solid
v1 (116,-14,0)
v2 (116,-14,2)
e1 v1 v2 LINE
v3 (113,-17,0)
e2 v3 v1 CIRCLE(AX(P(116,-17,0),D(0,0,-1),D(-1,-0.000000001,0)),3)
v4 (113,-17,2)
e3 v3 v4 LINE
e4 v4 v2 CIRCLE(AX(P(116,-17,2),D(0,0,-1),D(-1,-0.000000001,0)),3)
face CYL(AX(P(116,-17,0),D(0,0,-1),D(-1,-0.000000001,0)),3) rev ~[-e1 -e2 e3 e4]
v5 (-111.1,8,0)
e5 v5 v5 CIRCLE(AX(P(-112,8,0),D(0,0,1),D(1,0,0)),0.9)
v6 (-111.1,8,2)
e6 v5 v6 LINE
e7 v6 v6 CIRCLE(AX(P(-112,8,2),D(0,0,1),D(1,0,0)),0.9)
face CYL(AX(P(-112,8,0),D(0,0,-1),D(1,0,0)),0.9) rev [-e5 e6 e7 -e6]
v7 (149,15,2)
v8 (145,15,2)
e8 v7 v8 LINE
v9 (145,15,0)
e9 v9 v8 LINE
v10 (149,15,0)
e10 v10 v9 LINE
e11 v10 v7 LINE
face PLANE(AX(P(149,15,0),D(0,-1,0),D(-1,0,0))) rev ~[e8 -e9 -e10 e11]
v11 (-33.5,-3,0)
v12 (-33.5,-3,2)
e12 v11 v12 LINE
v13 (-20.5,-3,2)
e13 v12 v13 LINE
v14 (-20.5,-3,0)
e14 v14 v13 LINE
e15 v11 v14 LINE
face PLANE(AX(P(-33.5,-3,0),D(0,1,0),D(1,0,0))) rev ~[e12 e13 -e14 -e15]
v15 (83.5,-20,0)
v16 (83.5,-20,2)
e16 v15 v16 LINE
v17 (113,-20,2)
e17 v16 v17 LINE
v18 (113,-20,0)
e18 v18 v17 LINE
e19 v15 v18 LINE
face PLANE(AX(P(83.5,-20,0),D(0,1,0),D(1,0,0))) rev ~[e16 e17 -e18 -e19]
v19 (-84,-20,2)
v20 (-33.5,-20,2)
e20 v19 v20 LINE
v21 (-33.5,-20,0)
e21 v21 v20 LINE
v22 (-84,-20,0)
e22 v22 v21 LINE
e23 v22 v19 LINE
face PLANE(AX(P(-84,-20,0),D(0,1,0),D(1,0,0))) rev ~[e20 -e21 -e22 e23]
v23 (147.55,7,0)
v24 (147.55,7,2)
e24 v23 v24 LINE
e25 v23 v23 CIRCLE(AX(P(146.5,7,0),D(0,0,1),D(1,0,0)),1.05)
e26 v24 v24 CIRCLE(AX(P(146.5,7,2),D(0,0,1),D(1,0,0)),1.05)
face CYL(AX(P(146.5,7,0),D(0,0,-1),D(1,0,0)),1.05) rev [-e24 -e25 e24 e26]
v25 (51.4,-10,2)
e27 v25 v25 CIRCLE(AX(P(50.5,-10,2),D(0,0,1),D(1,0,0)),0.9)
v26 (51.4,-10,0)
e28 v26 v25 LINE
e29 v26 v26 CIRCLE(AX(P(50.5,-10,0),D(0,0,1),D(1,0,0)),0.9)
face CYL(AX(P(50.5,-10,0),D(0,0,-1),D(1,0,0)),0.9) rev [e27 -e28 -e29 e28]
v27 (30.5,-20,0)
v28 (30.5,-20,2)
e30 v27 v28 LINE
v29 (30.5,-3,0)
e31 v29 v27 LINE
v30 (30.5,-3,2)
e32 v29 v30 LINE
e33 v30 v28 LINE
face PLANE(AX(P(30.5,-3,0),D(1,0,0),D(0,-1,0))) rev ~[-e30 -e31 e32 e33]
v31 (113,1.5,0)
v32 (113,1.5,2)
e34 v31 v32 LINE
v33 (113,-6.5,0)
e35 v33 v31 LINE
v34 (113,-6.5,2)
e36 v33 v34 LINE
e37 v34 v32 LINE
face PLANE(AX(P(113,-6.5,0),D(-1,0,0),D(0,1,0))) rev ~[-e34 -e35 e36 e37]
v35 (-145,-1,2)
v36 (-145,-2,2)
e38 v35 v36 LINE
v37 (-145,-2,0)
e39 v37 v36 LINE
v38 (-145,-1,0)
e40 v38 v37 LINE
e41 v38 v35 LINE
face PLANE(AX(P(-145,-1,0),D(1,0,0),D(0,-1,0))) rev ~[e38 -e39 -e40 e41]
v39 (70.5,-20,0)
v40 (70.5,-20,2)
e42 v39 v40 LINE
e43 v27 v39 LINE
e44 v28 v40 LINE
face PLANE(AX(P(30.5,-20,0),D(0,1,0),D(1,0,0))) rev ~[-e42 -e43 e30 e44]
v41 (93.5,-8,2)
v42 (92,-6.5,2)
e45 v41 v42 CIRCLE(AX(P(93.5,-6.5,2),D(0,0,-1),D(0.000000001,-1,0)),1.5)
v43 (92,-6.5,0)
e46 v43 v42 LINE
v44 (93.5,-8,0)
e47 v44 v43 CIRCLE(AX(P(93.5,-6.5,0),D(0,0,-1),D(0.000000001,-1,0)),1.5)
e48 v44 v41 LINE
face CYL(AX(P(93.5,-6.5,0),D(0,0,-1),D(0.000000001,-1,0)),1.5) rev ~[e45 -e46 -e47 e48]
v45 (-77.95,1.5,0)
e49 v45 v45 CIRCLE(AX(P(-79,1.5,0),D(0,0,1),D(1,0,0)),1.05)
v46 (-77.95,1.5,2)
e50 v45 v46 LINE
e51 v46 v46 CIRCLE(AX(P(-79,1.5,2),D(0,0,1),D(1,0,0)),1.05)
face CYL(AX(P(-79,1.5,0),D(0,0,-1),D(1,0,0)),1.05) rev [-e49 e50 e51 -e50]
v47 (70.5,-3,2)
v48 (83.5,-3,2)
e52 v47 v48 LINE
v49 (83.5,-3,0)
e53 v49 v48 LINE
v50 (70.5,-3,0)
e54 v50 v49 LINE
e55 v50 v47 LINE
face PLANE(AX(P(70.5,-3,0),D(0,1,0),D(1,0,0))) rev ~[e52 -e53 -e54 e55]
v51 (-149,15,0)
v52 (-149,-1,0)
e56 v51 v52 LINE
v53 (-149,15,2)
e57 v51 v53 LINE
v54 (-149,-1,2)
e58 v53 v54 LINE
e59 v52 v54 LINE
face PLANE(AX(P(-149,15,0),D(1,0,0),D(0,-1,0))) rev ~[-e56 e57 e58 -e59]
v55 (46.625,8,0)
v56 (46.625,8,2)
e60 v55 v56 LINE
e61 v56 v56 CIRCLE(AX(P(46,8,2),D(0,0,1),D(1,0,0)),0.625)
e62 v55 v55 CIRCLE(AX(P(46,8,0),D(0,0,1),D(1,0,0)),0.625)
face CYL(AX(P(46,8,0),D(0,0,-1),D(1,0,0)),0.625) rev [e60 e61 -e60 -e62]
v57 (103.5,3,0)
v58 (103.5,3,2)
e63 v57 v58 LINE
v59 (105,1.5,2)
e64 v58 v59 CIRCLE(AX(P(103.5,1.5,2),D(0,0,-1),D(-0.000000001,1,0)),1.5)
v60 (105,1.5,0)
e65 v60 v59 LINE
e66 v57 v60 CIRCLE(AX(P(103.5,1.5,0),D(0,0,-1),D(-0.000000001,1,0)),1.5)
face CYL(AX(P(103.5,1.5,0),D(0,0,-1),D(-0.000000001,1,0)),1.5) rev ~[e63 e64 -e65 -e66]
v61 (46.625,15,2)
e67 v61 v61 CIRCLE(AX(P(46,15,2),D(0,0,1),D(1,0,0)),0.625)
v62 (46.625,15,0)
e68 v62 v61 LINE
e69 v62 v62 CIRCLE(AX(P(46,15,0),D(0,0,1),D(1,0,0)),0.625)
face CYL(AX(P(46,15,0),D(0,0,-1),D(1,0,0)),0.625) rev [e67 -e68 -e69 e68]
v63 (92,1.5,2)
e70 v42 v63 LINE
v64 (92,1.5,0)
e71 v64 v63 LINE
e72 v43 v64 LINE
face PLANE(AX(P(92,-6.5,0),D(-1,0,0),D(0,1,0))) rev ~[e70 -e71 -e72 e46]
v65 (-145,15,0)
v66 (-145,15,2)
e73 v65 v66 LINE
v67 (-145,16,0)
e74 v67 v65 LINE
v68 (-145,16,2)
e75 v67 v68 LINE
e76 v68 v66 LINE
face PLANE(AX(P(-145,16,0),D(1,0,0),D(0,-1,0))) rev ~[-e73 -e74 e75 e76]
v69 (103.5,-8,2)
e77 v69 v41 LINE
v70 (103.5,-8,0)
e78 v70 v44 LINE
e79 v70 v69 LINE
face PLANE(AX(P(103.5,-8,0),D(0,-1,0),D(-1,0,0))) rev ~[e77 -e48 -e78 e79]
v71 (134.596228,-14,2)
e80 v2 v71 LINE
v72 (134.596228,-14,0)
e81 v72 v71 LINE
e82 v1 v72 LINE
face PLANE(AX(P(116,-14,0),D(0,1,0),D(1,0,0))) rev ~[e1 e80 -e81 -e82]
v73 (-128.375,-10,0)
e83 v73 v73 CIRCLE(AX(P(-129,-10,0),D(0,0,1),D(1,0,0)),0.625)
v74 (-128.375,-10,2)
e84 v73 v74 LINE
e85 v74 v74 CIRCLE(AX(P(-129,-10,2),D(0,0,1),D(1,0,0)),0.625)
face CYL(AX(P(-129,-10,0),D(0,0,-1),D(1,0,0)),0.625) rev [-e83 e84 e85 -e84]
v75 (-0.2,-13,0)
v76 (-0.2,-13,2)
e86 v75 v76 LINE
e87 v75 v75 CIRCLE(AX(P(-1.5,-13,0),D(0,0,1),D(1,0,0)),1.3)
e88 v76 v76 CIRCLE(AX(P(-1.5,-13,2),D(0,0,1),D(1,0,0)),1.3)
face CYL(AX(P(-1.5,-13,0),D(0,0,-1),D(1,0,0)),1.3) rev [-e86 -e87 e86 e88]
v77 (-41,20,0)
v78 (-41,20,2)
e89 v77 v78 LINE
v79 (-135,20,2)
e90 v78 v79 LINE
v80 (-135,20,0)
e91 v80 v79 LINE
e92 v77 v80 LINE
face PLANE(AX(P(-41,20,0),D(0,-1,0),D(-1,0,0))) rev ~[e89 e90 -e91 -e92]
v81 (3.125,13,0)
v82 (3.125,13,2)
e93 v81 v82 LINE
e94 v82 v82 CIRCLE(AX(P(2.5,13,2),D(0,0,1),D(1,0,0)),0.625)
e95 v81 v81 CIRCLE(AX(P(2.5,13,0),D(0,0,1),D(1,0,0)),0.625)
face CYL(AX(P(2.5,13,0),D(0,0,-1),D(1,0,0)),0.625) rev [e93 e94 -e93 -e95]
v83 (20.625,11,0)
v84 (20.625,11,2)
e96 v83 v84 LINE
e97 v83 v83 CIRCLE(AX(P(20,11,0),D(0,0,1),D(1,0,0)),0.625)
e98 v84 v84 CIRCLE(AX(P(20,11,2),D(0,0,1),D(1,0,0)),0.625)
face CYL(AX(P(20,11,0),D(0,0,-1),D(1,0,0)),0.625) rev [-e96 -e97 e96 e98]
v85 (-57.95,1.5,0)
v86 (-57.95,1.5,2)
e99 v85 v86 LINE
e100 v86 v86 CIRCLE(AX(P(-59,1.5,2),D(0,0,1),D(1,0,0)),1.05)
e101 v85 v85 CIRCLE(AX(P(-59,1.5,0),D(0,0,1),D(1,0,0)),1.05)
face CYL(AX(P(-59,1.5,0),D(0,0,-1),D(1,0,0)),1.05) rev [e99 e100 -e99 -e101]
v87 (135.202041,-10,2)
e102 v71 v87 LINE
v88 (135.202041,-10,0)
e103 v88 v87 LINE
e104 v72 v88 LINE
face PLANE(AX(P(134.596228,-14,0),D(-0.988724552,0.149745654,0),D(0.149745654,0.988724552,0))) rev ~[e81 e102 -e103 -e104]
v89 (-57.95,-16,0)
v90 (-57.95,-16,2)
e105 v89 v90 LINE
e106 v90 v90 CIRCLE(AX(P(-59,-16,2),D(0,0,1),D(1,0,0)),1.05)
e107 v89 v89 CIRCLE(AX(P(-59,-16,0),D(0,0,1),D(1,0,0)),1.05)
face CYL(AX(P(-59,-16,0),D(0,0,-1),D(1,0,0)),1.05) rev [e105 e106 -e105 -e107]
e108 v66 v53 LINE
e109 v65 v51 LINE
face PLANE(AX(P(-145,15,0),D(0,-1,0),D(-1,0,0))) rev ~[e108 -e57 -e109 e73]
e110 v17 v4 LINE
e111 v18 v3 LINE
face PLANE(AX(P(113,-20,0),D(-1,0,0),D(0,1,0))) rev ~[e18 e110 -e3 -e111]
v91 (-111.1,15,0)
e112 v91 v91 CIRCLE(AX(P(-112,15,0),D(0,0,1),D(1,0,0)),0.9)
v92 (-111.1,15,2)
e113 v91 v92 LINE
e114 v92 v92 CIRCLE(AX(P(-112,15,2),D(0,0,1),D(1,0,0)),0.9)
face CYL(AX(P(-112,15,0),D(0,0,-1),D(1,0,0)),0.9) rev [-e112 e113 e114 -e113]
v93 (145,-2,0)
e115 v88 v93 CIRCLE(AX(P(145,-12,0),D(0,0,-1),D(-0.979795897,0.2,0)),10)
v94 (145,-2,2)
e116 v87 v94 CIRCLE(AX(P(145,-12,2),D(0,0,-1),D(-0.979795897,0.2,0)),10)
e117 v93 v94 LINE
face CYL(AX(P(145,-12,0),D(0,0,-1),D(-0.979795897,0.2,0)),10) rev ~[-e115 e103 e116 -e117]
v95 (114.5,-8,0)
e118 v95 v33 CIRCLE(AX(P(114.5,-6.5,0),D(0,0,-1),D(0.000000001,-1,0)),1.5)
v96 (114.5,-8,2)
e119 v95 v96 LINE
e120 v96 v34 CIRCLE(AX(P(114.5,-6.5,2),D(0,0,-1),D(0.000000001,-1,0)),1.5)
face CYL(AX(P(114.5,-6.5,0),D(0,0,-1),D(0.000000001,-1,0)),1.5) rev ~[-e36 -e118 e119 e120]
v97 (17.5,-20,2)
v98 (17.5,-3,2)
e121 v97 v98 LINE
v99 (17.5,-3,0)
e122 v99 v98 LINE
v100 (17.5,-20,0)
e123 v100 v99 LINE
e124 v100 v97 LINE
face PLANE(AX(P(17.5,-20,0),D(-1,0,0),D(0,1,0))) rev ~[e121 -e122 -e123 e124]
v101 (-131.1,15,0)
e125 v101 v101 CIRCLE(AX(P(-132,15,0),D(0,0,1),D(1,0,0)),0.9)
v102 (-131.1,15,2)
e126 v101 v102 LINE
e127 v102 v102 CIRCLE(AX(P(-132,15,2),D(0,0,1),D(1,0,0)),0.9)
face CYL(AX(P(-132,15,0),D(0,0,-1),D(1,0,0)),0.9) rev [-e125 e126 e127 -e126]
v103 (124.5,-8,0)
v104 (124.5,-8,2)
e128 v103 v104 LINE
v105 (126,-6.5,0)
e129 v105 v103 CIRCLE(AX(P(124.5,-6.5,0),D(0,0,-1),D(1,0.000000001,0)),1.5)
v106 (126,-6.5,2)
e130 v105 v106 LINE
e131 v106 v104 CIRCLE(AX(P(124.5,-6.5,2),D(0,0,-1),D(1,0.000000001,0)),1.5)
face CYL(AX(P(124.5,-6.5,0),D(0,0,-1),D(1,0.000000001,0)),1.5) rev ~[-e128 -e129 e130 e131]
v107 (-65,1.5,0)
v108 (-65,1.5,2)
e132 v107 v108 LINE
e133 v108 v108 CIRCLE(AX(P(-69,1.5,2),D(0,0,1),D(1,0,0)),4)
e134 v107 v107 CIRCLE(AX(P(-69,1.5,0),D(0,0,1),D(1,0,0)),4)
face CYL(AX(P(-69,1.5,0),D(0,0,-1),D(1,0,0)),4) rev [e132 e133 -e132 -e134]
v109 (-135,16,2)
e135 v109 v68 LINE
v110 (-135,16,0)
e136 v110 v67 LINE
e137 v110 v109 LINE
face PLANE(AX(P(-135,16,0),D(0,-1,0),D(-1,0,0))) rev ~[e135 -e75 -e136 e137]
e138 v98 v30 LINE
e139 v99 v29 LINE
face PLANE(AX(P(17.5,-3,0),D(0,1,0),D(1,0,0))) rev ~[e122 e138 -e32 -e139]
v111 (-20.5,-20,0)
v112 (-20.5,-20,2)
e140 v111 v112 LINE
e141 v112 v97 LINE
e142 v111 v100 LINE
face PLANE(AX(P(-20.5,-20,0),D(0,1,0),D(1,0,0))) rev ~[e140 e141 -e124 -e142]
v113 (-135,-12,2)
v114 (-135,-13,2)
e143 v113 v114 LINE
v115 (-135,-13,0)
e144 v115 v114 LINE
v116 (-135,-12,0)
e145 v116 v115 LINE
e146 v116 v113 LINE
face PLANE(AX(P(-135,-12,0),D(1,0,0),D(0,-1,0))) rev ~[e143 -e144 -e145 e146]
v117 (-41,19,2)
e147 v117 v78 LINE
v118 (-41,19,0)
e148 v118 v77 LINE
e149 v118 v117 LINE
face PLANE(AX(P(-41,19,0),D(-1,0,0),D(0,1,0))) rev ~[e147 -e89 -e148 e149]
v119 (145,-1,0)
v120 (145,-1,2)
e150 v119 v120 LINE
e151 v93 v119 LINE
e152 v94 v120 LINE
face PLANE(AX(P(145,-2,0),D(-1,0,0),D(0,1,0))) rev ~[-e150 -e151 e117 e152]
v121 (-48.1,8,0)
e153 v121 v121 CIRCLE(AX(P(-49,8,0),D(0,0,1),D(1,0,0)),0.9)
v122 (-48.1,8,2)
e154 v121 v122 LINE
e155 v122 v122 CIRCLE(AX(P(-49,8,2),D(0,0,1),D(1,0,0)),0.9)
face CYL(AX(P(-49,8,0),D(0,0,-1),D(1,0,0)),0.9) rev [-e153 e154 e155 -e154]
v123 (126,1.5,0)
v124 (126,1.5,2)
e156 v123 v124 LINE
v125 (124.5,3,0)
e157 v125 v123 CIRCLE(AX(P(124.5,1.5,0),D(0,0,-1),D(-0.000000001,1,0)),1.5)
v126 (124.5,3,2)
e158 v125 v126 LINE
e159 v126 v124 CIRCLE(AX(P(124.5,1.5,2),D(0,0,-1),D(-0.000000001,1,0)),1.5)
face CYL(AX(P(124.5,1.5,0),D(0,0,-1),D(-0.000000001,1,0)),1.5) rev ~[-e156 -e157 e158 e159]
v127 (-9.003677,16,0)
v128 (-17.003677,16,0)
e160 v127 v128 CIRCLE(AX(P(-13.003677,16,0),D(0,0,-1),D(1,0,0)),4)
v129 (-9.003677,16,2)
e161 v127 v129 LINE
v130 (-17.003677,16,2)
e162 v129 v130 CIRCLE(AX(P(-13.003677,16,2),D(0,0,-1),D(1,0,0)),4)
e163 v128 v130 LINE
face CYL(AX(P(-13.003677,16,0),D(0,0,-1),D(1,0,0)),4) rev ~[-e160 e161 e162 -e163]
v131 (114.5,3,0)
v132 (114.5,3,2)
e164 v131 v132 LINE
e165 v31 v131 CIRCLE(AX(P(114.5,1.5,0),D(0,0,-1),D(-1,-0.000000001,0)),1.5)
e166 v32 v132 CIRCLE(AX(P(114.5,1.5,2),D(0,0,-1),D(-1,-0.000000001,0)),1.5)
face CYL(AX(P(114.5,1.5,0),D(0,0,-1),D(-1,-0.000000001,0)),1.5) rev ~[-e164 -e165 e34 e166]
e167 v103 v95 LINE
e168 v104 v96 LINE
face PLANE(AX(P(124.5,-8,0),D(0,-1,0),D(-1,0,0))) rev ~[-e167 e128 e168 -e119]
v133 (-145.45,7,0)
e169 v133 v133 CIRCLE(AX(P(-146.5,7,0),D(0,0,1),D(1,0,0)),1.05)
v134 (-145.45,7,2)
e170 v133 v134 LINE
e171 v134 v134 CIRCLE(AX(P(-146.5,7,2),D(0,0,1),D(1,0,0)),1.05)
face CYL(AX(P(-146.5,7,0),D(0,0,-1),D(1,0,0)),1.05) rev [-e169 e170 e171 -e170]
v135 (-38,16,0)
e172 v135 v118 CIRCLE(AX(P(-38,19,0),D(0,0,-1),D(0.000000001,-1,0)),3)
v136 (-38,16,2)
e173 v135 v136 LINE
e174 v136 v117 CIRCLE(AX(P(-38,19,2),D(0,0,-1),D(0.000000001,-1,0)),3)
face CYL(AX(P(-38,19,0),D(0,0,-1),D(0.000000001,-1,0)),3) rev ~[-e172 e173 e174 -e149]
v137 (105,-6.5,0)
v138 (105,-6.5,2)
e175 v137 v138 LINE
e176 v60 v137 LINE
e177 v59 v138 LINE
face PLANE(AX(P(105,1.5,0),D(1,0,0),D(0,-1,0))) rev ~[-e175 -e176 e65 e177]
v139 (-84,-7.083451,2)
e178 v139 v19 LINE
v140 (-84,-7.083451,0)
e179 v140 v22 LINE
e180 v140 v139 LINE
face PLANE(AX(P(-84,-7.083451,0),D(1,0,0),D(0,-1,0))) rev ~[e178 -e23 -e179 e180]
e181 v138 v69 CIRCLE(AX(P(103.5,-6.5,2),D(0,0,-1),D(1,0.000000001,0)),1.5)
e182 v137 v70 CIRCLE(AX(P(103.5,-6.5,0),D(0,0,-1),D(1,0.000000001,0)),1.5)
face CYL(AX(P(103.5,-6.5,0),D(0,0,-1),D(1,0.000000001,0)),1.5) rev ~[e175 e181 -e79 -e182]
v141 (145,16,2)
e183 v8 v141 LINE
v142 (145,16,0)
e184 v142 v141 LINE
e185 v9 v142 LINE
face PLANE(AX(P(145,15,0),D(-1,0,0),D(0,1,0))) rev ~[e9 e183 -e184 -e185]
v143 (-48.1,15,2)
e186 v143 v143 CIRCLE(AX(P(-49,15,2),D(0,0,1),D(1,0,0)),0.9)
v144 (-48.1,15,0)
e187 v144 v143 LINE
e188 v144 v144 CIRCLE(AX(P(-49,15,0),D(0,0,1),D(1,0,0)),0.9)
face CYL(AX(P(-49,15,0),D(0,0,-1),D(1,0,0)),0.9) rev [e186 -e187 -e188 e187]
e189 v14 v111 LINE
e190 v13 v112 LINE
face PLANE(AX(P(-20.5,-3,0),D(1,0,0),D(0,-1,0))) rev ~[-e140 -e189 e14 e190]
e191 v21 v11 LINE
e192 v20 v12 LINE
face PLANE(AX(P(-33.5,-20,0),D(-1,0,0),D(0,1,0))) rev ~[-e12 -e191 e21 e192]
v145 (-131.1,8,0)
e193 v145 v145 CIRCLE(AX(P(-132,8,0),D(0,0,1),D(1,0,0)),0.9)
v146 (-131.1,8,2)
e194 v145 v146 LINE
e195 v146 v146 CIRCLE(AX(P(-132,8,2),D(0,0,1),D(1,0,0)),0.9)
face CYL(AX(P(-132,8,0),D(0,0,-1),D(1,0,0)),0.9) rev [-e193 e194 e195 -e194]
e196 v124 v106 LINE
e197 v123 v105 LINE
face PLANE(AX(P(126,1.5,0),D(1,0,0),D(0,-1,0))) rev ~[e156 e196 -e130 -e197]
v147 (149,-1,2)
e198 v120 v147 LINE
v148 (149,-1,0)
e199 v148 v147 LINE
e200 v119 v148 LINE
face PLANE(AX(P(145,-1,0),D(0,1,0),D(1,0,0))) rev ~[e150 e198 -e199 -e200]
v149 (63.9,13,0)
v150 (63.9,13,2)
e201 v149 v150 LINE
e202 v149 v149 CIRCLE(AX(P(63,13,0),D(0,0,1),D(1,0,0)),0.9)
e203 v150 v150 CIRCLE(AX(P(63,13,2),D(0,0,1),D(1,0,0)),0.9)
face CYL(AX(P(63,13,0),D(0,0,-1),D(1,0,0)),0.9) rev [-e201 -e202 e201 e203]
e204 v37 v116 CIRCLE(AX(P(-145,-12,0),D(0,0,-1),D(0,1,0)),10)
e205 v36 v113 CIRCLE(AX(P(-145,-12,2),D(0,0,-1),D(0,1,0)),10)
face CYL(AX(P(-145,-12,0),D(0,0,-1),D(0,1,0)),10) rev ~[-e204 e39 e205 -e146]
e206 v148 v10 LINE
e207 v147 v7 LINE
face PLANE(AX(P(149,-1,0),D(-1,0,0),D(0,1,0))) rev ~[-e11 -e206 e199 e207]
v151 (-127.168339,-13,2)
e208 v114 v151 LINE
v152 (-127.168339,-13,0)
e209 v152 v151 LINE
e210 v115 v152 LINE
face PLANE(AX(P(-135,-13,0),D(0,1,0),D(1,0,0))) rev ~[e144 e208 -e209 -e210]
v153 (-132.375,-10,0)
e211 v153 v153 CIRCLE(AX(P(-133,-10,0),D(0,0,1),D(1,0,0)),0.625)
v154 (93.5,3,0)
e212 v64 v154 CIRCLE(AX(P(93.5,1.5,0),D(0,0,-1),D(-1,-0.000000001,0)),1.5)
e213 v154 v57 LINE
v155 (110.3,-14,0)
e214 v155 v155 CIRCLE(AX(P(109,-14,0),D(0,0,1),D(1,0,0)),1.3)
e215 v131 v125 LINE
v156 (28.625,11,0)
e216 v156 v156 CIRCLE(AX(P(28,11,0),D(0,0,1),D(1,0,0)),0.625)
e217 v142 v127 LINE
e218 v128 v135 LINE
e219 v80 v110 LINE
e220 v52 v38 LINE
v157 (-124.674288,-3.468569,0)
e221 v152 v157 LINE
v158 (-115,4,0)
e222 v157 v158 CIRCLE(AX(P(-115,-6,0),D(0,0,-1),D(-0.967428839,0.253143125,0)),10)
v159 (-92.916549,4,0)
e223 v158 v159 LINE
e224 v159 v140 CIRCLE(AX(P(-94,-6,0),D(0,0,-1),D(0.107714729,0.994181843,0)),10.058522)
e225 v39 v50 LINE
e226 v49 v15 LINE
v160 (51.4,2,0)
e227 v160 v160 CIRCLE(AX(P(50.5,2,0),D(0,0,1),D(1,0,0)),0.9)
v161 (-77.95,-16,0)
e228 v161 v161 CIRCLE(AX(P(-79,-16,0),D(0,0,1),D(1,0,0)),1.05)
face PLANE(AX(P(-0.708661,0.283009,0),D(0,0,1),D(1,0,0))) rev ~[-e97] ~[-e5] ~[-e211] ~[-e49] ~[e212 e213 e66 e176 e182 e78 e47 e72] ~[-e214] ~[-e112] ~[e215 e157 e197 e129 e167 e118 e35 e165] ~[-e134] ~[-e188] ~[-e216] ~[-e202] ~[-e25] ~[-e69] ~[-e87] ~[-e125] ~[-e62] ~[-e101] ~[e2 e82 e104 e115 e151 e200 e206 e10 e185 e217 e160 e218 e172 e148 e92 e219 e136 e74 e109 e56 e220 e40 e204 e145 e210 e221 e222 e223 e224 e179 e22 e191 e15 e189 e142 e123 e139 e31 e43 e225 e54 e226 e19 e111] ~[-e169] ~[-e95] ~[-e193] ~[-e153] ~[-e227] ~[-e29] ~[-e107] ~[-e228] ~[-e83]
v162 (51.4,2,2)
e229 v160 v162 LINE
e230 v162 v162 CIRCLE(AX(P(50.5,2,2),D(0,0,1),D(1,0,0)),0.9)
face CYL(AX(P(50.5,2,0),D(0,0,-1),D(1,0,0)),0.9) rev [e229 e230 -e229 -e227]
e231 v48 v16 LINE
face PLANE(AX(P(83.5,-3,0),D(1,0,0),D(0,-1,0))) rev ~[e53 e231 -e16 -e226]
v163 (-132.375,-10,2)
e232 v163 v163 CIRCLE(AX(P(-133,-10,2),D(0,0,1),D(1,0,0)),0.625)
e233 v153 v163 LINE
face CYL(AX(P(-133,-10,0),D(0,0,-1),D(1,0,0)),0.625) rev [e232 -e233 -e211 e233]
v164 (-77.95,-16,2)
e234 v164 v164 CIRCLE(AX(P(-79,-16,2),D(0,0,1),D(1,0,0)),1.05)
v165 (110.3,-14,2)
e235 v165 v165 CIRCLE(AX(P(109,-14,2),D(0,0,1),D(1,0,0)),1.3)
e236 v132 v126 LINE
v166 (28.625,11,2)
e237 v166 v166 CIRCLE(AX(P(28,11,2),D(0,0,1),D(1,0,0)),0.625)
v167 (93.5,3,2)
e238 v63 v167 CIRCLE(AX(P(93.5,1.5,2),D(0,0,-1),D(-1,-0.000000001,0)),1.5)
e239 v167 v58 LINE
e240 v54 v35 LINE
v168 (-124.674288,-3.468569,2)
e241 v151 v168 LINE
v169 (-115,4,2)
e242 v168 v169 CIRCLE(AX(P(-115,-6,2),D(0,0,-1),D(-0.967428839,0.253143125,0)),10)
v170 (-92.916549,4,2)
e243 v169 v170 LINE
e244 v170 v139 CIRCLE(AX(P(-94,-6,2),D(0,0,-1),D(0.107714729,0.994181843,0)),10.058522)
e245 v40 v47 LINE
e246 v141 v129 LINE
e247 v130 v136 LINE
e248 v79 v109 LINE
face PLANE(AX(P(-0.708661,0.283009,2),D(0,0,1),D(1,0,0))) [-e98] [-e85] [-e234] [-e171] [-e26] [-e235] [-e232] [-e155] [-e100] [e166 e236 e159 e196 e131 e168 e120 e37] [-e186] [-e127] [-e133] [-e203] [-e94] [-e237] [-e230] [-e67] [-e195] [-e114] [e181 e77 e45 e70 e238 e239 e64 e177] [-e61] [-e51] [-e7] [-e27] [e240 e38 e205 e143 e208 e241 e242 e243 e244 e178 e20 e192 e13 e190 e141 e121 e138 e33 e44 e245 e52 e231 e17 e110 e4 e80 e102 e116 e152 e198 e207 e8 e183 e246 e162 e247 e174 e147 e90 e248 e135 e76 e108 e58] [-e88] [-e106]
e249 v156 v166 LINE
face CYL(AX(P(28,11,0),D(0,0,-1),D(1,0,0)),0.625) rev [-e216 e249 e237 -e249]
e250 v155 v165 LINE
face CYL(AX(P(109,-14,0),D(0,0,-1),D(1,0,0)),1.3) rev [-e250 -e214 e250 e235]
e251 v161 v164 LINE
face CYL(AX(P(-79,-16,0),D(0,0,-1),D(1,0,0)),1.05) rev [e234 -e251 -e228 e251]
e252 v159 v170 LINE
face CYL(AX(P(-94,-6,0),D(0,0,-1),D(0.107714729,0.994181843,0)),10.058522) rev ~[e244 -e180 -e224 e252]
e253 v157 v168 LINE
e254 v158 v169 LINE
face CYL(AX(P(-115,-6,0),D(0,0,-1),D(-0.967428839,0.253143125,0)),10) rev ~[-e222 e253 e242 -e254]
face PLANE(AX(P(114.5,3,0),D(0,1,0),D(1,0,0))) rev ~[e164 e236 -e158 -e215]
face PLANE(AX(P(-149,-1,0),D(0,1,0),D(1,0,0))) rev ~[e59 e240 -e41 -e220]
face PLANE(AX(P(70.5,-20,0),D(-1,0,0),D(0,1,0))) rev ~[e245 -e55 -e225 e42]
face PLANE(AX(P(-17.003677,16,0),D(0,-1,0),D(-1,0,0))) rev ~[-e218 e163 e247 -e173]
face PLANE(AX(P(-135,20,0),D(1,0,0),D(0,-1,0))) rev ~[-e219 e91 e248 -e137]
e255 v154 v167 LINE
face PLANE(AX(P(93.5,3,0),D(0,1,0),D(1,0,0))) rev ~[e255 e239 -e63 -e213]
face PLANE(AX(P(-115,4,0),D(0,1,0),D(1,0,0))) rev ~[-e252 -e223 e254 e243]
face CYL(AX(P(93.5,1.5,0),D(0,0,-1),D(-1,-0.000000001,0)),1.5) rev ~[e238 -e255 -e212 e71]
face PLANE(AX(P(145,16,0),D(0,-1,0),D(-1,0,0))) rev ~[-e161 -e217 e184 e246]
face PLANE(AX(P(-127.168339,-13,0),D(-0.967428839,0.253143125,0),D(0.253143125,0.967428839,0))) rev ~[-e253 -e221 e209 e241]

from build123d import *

# Parameters (mm, degrees)
ESQUISSE1_R        = 1.05
ESQUISSE1_R_2      = 1.3
ESQUISSE1_R_3      = 0.625
ESQUISSE1_R_4      = 0.9
ESQUISSE1_R_5      = 4
BOSS_EXTRU_1_DEPTH = 2


with BuildPart() as part:
    # Esquisse1 → Boss.-Extru.1 (new body)
    with BuildSketch(Plane.XY):
        with BuildLine():
            Line((-145, 15), (-149, 15))
            Line((-149, 15), (-149, -1))
            Line((-149, -1), (-145, -1))
            Line((-145, -1), (-145, -2))
            ThreePointArc((-145, -2), (-137.928932188, -4.928932188), (-135, -12))
            Line((-135, -12), (-135, -13))
            Line((-135, -13), (-127.168338795, -13))
            Line((-127.168338795, -13), (-124.67428839, -3.468568753))
            ThreePointArc((-124.67428839, -3.468568753), (-121.110879132, 1.915627343), (-115, 4))
            Line((-115, 4), (-92.916549028, 4))
            ThreePointArc((-92.916549028, 4), (-86.162816659, 0.304952282), (-84, -7.083450972))
            Line((-84, -7.083450972), (-84, -20))
            Line((-84, -20), (-33.5, -20))
            Line((-33.5, -20), (-33.5, -3))
            Line((-33.5, -3), (-20.5, -3))
            Line((-20.5, -3), (-20.5, -20))
            Line((-20.5, -20), (17.5, -20))
            Line((17.5, -20), (17.5, -3))
            Line((17.5, -3), (30.5, -3))
            Line((30.5, -3), (30.5, -20))
            Line((30.5, -20), (70.5, -20))
            Line((70.5, -20), (70.5, -3))
            Line((70.5, -3), (83.5, -3))
            Line((83.5, -3), (83.5, -20))
            Line((83.5, -20), (113, -20))
            Line((113, -20), (113, -17))
            ThreePointArc((113, -17), (113.878679656, -14.878679656), (116, -14))
            Line((116, -14), (134.596227596, -14))
            Line((134.596227596, -14), (135.202041029, -10))
            ThreePointArc((135.202041029, -10), (138.67544468, -4.254033308), (145, -2))
            Line((145, -2), (145, -1))
            Line((145, -1), (149, -1))
            Line((149, -1), (149, 15))
            Line((149, 15), (145, 15))
            Line((145, 15), (145, 16))
            Line((145, 16), (-9.00367652, 16))
            ThreePointArc((-9.00367652, 16), (-13.00367652, 12), (-17.00367652, 16))
            Line((-17.00367652, 16), (-38, 16))
            ThreePointArc((-38, 16), (-40.121320344, 16.878679656), (-41, 19))
            Line((-41, 19), (-41, 20))
            Line((-41, 20), (-135, 20))
            Line((-135, 20), (-135, 16))
            Line((-135, 16), (-145, 16))
            Line((-145, 16), (-145, 15))
        make_face()
        with Locations((-79, -16)):
            Circle(ESQUISSE1_R, mode=Mode.SUBTRACT)
        with Locations((-59, -16)):
            Circle(ESQUISSE1_R, mode=Mode.SUBTRACT)
        with Locations((-1.5, -13)):
            Circle(ESQUISSE1_R_2, mode=Mode.SUBTRACT)
        with Locations((-133, -10)):
            Circle(ESQUISSE1_R_3, mode=Mode.SUBTRACT)
        with Locations((-129, -10)):
            Circle(ESQUISSE1_R_3, mode=Mode.SUBTRACT)
        with Locations((109, -14)):
            Circle(ESQUISSE1_R_2, mode=Mode.SUBTRACT)
        with Locations((50.5, -10)):
            Circle(ESQUISSE1_R_4, mode=Mode.SUBTRACT)
        with BuildLine():
            ThreePointArc((103.5, 3), (104.560660172, 2.560660172), (105, 1.5))
            Line((105, 1.5), (105, -6.5))
            ThreePointArc((105, -6.5), (104.560660172, -7.560660172), (103.5, -8))
            Line((103.5, -8), (93.5, -8))
            ThreePointArc((93.5, -8), (92.439339828, -7.560660172), (92, -6.5))
            Line((92, -6.5), (92, 1.5))
            ThreePointArc((92, 1.5), (92.439339828, 2.560660172), (93.5, 3))
            Line((93.5, 3), (103.5, 3))
        make_face(mode=Mode.SUBTRACT)
        with BuildLine():
            Line((114.5, 3), (124.5, 3))
            ThreePointArc((124.5, 3), (125.560660172, 2.560660172), (126, 1.5))
            Line((126, 1.5), (126, -6.5))
            ThreePointArc((126, -6.5), (125.560660172, -7.560660172), (124.5, -8))
            Line((124.5, -8), (114.5, -8))
            ThreePointArc((114.5, -8), (113.439339828, -7.560660172), (113, -6.5))
            Line((113, -6.5), (113, 1.5))
            ThreePointArc((113, 1.5), (113.439339828, 2.560660172), (114.5, 3))
        make_face(mode=Mode.SUBTRACT)
        with Locations((-79, 1.5)):
            Circle(ESQUISSE1_R, mode=Mode.SUBTRACT)
        with Locations((-146.5, 7)):
            Circle(ESQUISSE1_R, mode=Mode.SUBTRACT)
        with Locations((-132, 8)):
            Circle(ESQUISSE1_R_4, mode=Mode.SUBTRACT)
        with Locations((-112, 8)):
            Circle(ESQUISSE1_R_4, mode=Mode.SUBTRACT)
        with Locations((-69, 1.5)):
            Circle(ESQUISSE1_R_5, mode=Mode.SUBTRACT)
        with Locations((-59, 1.5)):
            Circle(ESQUISSE1_R, mode=Mode.SUBTRACT)
        with Locations((-49, 8)):
            Circle(ESQUISSE1_R_4, mode=Mode.SUBTRACT)
        with Locations((-132, 15)):
            Circle(ESQUISSE1_R_4, mode=Mode.SUBTRACT)
        with Locations((-112, 15)):
            Circle(ESQUISSE1_R_4, mode=Mode.SUBTRACT)
        with Locations((-49, 15)):
            Circle(ESQUISSE1_R_4, mode=Mode.SUBTRACT)
        with Locations((50.5, 2)):
            Circle(ESQUISSE1_R_4, mode=Mode.SUBTRACT)
        with Locations((46, 8)):
            Circle(ESQUISSE1_R_3, mode=Mode.SUBTRACT)
        with Locations((146.5, 7)):
            Circle(ESQUISSE1_R, mode=Mode.SUBTRACT)
        with Locations((20, 11)):
            Circle(ESQUISSE1_R_3, mode=Mode.SUBTRACT)
        with Locations((28, 11)):
            Circle(ESQUISSE1_R_3, mode=Mode.SUBTRACT)
        with Locations((2.5, 13)):
            Circle(ESQUISSE1_R_3, mode=Mode.SUBTRACT)
        with Locations((63, 13)):
            Circle(ESQUISSE1_R_4, mode=Mode.SUBTRACT)
        with Locations((46, 15)):
            Circle(ESQUISSE1_R_3, mode=Mode.SUBTRACT)
    extrude(amount=BOSS_EXTRU_1_DEPTH)


solid = part.part
